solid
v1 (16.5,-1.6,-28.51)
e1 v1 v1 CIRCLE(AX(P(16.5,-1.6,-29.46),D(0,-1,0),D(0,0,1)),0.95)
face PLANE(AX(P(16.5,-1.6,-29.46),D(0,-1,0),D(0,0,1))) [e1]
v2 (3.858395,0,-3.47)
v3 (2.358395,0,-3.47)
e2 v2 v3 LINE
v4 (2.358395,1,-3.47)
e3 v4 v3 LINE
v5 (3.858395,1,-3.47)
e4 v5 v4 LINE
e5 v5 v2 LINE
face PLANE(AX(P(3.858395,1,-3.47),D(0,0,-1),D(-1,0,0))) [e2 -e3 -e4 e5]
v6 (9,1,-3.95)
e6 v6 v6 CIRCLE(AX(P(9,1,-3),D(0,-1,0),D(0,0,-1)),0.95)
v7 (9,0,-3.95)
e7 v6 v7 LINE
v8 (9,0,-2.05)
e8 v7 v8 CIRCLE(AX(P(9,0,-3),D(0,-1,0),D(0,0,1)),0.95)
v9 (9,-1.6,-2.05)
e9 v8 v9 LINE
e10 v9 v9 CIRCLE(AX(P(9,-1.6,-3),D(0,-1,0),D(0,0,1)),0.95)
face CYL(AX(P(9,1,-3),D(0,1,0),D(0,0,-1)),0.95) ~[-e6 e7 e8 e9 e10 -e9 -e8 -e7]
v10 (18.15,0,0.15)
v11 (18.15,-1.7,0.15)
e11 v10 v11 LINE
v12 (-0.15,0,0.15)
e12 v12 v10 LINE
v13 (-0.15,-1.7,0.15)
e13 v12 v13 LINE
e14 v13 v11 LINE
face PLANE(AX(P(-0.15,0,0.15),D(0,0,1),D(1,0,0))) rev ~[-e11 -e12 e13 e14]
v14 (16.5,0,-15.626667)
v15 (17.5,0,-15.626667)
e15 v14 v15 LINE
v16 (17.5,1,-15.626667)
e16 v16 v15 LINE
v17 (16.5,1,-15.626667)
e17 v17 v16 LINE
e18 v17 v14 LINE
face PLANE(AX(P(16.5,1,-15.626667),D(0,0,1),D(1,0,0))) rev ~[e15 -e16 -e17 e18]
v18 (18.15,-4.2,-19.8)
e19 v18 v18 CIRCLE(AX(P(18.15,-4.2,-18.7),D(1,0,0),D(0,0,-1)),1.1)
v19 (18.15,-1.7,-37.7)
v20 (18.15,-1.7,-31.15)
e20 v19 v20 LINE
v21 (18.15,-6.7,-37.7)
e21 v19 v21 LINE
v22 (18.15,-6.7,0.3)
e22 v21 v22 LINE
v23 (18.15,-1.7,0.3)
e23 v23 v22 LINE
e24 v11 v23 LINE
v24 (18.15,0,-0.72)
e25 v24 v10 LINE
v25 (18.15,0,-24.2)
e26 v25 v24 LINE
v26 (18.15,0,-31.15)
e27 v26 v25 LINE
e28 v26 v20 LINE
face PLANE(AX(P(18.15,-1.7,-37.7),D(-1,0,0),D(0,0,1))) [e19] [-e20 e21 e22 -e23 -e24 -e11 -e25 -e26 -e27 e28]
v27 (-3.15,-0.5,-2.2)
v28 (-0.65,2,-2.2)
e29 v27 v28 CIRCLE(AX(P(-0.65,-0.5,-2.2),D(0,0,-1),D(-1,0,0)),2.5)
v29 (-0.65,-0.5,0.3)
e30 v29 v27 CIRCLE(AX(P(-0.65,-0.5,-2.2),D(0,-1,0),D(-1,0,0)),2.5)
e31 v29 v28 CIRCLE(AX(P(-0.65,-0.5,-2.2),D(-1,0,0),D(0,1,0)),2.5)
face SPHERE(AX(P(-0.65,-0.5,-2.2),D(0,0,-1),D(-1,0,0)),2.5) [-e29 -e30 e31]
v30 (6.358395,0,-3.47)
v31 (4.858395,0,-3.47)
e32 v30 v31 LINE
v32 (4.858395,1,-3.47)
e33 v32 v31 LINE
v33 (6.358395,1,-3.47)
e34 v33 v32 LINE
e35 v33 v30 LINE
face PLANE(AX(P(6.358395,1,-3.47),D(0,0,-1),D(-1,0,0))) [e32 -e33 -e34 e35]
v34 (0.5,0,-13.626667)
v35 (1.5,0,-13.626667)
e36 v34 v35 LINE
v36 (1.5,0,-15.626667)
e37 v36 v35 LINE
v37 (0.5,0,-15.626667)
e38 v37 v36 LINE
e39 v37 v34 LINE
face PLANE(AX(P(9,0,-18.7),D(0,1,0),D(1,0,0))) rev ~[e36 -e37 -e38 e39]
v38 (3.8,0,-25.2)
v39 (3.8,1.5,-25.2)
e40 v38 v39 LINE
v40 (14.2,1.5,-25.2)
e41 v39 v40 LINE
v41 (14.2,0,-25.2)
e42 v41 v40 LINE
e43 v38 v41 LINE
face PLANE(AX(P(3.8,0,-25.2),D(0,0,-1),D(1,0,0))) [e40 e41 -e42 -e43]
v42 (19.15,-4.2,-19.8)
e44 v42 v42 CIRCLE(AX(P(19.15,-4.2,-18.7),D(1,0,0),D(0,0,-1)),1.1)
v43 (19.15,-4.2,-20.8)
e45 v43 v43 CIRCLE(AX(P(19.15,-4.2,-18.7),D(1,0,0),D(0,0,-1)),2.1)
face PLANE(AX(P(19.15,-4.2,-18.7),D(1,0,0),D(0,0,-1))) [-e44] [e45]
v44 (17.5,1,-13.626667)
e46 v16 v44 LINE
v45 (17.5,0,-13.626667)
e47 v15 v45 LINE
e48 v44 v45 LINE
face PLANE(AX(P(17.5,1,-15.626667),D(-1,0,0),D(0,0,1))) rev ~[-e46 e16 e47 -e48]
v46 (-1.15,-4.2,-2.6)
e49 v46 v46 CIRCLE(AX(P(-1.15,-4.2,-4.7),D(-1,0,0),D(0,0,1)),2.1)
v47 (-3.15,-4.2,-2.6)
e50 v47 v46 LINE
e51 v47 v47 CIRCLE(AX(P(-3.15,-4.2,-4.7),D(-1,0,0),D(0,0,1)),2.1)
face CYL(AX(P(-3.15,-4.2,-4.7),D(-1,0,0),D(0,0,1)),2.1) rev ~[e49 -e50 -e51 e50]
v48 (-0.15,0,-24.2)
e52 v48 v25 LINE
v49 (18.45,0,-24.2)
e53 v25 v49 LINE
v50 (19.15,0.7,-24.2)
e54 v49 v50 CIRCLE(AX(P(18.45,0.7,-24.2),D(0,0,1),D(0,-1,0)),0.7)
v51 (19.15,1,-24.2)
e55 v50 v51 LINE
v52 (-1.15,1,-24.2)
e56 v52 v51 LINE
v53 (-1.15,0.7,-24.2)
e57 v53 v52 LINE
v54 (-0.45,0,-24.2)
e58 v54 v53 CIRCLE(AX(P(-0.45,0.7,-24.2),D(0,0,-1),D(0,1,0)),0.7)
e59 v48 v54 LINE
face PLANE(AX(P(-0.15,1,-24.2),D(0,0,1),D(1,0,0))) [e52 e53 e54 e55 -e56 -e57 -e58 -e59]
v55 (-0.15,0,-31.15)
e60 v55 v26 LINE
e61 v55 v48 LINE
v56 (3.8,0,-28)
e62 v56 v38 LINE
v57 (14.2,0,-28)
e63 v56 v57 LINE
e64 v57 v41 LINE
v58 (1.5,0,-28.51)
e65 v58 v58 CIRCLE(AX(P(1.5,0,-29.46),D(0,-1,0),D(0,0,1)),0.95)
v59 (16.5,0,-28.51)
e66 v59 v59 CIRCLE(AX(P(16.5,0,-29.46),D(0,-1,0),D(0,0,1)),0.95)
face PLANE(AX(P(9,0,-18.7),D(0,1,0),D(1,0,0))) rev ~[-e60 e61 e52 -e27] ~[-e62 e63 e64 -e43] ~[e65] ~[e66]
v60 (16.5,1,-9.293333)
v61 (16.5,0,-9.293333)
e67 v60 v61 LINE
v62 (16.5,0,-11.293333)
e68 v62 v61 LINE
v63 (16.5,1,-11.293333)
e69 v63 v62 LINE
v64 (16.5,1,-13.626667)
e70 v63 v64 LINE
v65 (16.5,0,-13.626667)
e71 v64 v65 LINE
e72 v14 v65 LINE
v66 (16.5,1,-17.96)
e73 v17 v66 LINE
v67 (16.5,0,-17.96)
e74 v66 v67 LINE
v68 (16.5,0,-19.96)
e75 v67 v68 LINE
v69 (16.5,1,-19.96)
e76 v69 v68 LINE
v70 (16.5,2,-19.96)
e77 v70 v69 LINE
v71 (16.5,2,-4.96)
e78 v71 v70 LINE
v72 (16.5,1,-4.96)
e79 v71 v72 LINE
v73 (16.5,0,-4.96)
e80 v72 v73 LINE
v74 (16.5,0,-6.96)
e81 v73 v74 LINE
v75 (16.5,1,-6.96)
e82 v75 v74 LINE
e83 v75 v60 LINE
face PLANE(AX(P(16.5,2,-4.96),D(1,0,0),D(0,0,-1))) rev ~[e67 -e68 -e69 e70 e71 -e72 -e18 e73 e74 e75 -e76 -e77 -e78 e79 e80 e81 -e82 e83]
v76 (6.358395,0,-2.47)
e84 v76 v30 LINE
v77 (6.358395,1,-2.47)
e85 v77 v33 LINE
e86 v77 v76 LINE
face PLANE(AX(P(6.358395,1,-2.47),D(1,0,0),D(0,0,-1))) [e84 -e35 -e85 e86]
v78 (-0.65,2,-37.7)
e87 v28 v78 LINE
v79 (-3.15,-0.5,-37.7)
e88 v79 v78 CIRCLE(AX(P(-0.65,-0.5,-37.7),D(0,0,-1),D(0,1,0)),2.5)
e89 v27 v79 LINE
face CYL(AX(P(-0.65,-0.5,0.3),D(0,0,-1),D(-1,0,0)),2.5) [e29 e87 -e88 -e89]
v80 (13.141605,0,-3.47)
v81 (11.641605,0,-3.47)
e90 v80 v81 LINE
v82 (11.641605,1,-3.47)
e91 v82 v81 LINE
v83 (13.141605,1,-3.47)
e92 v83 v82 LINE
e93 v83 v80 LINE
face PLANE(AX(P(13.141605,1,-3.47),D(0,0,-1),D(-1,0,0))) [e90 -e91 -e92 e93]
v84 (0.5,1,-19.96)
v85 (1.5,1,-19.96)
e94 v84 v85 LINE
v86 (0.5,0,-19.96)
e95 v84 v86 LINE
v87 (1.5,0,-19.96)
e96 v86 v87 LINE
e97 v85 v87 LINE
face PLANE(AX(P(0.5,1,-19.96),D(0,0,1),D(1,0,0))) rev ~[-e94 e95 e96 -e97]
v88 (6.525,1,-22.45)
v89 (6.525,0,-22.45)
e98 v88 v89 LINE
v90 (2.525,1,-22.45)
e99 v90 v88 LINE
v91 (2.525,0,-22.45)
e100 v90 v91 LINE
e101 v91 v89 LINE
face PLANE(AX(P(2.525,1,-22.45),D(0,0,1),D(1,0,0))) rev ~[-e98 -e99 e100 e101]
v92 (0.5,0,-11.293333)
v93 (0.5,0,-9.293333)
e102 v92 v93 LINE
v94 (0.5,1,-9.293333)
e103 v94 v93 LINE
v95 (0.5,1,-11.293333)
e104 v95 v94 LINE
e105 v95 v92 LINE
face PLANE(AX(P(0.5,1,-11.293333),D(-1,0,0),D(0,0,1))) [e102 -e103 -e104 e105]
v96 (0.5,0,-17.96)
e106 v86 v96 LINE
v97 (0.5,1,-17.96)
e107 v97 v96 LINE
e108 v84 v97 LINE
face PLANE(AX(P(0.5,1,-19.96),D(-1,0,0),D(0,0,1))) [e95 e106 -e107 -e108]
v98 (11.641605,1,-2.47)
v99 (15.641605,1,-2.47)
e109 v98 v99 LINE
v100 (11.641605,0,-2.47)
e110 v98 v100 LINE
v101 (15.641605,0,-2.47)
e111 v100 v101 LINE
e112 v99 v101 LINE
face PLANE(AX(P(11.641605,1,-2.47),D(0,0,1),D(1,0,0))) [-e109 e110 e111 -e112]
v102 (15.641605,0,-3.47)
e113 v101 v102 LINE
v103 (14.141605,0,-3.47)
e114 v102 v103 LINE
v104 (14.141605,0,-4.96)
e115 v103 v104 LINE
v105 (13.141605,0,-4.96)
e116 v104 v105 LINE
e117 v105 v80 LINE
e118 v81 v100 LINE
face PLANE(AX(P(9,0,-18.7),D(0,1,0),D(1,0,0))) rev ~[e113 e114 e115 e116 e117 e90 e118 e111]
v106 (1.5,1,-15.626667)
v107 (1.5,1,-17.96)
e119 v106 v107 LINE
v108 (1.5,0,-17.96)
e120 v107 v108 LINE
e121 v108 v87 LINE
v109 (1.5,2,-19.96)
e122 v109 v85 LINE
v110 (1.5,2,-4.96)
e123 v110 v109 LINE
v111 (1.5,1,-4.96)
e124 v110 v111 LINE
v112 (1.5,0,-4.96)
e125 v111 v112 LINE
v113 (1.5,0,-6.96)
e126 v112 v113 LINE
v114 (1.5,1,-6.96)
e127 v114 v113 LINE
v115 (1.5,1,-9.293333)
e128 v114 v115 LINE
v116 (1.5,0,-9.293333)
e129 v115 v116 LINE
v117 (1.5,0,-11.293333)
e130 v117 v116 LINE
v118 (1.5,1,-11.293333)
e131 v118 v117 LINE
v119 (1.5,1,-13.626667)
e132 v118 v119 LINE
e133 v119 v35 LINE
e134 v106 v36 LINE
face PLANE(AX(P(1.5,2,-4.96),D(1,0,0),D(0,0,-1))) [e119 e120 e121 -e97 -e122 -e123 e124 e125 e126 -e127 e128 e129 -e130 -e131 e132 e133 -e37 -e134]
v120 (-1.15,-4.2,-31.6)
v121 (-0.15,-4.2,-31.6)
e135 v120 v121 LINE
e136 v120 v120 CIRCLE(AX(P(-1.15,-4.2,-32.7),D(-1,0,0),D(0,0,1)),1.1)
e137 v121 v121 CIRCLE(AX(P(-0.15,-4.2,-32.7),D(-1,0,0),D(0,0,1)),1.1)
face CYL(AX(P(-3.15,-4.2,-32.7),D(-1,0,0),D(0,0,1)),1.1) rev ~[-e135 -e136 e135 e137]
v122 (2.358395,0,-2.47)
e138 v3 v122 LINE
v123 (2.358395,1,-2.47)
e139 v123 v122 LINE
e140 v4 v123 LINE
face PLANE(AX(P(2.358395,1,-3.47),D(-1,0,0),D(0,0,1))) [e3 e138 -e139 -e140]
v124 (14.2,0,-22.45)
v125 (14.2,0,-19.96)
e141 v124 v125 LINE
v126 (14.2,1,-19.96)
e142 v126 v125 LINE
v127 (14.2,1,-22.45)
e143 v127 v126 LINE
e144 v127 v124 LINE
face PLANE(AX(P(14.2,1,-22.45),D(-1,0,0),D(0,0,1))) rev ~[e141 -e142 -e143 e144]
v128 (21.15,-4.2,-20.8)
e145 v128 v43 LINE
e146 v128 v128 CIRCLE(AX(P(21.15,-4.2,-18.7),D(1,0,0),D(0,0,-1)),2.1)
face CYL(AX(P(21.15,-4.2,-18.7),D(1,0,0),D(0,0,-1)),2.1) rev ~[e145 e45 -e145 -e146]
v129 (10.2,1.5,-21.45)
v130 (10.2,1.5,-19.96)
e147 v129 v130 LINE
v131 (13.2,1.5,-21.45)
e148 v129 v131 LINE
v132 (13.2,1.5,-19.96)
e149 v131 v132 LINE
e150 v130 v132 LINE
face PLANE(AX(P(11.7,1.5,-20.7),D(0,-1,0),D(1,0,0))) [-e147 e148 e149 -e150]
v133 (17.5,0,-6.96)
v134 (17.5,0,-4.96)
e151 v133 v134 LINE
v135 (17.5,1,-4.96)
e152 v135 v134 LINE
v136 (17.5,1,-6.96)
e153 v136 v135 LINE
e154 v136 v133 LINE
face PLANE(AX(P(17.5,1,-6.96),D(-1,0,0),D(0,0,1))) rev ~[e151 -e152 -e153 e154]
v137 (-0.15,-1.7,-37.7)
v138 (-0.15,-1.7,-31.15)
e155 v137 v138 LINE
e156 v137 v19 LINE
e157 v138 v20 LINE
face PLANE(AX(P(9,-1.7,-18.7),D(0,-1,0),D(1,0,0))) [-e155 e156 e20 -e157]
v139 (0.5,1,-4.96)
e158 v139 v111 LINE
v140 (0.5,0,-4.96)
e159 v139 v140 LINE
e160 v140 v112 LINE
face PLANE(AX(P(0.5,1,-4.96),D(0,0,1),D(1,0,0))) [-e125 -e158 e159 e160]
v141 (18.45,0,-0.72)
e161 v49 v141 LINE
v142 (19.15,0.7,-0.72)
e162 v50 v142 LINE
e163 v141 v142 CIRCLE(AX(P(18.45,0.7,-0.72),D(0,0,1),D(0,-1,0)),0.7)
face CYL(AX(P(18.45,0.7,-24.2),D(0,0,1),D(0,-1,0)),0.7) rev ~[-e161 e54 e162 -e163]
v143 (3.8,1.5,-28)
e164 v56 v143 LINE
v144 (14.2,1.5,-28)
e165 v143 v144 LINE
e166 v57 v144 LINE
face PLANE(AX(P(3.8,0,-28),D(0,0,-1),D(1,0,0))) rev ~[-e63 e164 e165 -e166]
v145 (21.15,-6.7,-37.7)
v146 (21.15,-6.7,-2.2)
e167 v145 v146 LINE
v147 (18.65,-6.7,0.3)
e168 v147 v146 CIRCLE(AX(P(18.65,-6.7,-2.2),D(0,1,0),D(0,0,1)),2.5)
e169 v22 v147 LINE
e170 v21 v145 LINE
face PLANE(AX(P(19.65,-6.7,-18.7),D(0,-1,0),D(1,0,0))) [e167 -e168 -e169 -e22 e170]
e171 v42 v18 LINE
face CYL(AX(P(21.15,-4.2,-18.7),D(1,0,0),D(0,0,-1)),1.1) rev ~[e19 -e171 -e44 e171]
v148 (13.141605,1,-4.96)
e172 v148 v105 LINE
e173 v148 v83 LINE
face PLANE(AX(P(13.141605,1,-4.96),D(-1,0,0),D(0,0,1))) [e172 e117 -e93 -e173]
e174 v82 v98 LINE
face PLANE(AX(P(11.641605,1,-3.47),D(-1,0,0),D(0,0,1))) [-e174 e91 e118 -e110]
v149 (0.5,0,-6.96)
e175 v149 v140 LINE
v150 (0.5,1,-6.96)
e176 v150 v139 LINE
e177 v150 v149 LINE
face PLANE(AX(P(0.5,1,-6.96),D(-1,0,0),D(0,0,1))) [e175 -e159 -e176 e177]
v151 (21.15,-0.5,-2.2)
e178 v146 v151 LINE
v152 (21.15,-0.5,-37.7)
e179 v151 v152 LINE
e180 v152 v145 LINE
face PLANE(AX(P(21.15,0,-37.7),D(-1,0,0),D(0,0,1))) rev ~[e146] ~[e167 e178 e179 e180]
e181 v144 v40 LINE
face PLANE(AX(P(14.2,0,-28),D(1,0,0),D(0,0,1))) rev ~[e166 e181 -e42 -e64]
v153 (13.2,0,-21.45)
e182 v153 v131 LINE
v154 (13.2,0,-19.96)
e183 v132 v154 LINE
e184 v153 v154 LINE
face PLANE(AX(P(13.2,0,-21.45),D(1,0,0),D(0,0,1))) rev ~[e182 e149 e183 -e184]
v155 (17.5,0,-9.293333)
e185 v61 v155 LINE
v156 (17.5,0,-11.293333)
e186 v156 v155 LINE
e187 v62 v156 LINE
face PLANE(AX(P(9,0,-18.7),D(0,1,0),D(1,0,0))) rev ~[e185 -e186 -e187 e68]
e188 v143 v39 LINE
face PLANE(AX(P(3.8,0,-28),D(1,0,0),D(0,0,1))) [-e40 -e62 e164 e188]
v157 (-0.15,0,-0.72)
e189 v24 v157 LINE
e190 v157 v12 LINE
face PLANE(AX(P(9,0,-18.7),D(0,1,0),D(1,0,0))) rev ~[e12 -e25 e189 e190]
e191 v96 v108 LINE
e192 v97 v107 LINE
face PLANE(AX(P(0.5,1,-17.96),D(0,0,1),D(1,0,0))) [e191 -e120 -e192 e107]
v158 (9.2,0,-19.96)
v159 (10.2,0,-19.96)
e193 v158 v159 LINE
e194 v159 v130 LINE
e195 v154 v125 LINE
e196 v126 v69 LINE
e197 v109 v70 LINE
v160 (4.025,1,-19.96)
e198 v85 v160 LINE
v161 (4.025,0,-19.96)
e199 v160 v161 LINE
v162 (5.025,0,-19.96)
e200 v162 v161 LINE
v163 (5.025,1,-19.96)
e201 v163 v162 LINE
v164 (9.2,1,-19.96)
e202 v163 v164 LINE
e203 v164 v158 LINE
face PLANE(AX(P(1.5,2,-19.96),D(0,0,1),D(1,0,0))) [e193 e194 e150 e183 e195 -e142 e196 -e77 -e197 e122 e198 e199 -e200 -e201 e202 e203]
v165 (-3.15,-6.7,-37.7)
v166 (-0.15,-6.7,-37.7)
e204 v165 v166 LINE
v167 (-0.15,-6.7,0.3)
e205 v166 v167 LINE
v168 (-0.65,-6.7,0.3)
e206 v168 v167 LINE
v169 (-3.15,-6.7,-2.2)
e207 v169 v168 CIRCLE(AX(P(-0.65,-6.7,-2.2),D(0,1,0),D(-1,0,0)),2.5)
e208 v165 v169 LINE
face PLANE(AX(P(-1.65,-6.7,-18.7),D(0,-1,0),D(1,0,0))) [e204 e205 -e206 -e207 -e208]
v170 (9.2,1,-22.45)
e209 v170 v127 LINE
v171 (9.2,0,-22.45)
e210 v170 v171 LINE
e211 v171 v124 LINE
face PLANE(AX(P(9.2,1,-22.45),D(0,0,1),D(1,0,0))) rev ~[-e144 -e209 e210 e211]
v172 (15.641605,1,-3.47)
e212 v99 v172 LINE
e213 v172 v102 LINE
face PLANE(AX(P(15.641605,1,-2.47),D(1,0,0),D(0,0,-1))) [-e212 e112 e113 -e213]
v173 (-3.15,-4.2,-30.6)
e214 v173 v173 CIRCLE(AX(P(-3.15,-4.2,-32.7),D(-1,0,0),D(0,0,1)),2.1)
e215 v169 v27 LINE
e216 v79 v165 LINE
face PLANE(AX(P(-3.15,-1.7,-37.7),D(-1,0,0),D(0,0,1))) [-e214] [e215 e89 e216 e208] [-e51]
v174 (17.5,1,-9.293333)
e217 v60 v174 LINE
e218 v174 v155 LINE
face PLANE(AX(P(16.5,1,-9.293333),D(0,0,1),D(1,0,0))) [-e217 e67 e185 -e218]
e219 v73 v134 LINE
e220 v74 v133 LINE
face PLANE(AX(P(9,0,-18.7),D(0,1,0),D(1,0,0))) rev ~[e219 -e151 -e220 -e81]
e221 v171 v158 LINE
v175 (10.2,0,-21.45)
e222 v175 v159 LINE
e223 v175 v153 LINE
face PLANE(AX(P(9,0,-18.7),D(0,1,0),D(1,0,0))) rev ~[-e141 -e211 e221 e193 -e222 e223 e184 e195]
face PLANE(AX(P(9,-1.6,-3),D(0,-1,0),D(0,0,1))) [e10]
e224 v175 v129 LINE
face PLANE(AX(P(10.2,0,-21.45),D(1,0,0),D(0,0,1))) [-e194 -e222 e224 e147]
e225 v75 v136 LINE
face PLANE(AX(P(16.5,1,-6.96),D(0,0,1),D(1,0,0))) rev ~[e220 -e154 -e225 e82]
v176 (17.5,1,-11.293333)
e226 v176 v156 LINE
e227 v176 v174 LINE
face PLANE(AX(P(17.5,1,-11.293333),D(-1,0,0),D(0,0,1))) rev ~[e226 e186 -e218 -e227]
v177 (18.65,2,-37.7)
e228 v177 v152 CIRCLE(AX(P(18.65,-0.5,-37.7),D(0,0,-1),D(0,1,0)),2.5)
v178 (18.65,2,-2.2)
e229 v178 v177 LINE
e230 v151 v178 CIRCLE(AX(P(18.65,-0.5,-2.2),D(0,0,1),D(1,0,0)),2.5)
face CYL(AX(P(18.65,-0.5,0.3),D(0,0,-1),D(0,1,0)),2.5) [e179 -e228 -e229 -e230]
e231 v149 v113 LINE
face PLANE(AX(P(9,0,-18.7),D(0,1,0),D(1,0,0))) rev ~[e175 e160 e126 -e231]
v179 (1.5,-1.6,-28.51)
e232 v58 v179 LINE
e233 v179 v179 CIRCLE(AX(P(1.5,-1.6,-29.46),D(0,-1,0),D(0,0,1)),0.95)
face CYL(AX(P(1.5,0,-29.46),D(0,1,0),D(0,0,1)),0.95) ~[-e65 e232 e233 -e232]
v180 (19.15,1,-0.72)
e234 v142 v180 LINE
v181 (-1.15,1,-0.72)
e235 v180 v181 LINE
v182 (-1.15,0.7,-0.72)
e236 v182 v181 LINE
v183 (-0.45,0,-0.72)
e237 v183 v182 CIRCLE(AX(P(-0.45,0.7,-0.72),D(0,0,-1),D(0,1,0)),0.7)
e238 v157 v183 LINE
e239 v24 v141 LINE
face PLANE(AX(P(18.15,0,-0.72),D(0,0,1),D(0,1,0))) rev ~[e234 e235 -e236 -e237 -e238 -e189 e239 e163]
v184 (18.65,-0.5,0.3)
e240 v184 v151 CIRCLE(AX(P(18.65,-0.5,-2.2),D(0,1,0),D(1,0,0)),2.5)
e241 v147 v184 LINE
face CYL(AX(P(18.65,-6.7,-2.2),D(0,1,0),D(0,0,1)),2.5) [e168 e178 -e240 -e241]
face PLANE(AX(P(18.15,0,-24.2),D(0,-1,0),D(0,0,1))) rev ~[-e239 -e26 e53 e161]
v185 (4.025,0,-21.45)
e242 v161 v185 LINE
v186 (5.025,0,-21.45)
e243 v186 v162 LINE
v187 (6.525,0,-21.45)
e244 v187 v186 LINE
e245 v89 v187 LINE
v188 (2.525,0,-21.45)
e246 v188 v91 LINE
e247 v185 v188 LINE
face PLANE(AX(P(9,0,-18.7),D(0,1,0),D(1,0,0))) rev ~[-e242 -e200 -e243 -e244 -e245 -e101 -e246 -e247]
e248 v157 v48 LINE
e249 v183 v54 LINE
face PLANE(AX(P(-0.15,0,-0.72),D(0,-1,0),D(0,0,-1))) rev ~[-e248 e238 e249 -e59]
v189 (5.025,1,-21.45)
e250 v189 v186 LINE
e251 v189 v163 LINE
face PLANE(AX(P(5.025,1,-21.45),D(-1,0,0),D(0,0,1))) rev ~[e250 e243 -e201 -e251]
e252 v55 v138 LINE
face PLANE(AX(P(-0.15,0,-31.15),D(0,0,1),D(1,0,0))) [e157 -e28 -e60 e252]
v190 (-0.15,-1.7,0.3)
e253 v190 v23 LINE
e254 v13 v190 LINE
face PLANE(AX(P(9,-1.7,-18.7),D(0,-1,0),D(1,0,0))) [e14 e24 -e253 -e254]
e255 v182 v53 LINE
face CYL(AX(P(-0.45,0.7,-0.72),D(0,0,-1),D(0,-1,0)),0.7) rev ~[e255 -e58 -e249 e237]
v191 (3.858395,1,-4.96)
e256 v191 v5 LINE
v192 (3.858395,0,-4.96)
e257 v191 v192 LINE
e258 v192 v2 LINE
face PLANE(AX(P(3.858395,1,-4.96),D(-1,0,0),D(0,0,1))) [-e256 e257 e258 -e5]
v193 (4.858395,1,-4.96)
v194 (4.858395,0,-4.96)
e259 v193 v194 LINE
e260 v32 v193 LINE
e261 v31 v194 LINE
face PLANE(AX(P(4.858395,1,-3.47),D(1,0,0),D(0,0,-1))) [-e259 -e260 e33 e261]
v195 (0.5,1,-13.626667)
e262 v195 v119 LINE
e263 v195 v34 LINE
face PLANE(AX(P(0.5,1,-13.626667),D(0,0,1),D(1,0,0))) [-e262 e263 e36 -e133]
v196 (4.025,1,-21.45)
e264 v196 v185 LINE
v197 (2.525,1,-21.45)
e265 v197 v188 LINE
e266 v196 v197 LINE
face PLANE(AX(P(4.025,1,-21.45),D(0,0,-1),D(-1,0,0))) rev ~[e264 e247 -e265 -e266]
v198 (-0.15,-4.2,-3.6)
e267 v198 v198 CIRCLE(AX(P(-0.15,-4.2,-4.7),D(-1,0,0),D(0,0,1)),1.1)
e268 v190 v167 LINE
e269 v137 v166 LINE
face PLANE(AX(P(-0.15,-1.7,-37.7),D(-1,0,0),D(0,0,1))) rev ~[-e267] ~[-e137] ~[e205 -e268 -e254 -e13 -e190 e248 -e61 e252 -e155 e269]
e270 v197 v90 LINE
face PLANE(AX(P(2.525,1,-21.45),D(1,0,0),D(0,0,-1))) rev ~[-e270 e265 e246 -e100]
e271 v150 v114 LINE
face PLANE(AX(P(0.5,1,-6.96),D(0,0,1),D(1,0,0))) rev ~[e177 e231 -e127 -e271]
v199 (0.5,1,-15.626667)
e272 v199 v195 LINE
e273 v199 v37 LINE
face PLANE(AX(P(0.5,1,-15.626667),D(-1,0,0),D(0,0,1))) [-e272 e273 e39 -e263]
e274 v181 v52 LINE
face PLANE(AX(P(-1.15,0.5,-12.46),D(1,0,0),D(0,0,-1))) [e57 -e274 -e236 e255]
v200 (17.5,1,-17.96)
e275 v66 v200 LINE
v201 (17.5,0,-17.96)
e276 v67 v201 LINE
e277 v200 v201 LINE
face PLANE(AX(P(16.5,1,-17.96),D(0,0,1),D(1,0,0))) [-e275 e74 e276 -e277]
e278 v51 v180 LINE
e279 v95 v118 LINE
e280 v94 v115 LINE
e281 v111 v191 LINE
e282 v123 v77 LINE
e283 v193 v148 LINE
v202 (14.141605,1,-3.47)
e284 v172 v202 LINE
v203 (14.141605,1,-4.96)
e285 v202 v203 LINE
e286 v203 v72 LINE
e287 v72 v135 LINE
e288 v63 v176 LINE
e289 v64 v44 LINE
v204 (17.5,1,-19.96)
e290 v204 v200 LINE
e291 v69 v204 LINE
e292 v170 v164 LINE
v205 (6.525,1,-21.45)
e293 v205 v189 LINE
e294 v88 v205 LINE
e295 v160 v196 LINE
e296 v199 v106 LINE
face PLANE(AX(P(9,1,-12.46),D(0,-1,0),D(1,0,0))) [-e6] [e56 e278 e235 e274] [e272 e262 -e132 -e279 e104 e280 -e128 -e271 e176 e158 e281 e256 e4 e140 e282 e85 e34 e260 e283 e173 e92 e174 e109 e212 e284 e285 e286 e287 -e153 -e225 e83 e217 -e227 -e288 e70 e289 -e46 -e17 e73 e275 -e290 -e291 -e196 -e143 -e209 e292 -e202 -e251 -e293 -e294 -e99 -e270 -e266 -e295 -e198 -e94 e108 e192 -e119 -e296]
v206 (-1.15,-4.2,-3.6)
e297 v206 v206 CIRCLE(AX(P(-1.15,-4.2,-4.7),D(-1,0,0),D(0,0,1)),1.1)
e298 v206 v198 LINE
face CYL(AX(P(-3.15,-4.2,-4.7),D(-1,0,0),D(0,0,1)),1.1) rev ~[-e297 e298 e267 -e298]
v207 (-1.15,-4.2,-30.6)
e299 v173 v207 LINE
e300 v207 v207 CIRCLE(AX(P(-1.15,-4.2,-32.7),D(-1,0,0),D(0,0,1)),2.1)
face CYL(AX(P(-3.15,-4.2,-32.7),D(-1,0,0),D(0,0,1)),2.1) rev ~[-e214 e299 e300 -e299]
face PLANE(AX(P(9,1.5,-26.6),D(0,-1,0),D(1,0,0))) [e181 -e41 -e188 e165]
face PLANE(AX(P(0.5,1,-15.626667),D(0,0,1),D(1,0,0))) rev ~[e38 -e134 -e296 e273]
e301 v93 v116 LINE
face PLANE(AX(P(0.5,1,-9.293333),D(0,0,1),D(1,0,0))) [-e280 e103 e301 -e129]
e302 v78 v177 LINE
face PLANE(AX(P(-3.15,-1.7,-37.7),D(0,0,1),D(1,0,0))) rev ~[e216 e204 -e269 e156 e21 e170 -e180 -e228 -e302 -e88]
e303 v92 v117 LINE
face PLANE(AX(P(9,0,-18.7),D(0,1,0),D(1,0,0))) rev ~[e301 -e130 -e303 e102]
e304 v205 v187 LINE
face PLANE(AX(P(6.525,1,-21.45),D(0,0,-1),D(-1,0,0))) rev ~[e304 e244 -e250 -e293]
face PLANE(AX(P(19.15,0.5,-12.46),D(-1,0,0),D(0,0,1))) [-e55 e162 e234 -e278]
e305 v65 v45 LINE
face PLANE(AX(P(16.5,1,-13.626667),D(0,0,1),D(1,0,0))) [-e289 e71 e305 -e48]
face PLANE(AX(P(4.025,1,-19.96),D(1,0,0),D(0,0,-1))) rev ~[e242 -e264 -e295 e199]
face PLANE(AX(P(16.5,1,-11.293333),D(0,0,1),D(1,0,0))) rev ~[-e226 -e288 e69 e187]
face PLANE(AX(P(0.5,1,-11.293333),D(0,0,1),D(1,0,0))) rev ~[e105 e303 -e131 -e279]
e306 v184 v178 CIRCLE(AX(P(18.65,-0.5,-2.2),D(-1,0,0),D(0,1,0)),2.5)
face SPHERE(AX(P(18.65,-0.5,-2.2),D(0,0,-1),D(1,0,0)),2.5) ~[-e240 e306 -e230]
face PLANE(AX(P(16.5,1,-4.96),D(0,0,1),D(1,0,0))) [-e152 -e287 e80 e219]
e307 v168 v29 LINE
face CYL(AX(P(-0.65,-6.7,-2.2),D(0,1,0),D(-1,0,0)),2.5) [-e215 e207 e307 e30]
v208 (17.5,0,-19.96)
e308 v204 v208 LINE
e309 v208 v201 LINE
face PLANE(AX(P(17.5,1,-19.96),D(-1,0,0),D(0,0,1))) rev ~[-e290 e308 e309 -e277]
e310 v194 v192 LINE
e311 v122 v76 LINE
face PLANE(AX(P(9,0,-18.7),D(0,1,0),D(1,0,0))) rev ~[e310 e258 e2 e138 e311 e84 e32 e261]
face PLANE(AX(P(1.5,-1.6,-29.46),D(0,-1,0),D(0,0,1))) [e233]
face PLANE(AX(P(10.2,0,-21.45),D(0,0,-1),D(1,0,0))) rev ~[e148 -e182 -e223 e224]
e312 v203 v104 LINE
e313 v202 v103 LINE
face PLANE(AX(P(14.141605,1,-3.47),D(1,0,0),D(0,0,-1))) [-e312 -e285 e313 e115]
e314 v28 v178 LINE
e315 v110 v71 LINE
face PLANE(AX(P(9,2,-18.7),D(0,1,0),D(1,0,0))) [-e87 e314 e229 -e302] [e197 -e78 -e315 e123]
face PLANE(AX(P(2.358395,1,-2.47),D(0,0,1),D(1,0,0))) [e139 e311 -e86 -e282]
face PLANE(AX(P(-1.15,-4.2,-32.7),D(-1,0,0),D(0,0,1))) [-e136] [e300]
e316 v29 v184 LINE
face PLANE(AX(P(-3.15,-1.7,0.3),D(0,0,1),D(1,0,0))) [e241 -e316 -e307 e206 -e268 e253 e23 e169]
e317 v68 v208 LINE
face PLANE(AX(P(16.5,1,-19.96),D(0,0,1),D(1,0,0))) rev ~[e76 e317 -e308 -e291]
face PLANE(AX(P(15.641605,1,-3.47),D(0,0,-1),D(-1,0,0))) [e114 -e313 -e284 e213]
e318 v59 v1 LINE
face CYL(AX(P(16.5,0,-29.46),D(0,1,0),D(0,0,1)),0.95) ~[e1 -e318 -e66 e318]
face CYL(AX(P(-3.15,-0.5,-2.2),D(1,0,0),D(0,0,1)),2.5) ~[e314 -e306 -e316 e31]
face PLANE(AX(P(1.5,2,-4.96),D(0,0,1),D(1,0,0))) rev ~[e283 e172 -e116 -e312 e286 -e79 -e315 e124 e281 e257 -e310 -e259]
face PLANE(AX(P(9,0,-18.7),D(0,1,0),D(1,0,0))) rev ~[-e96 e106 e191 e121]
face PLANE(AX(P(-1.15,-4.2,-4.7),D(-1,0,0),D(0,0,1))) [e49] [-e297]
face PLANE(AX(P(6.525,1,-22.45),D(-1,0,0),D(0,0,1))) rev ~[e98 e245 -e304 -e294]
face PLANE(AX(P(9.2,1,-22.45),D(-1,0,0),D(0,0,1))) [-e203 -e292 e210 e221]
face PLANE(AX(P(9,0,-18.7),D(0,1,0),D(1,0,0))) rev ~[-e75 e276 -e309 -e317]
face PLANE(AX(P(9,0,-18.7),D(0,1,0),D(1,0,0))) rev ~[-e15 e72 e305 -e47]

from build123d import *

# Parameters (mm, degrees)
SKETCH1_W                  = 24.3
SKETCH1_H                  = 38
BASE_DEPTH                 = 2
SKETCH2_W                  = 24.3
SKETCH2_H                  = 38
SKETCH2_W_2                = 18.3
SKETCH2_H_2                = 31.3
PCB_EDGE_WALLS_DEPTH       = 1.7
SKETCH3_R                  = 0.95
PCB_MOUNT_DOWELS_DEPTH     = 1.6
SKETCH4_W                  = 15
SKETCH4_H                  = 15
SILICONE_PAD_HOLE_DEPTH    = 44.385510254
SKETCH6_W                  = 10.4
SKETCH6_H                  = 2.8
WIRE_SOLDERINGS_HOLE_DEPTH = 1.5
SKETCH7_W                  = 3
SKETCH7_H                  = 1.5
CUT_EXTRUDE4_DEPTH         = 1.5
SILICONE_CHANNELS_START    = -1
SKETCH5_R                  = 0.95
SKETCH5_W                  = 5
SKETCH5_H                  = 2.49
SKETCH5_W_2                = 1
SKETCH5_H_2                = 2
SILICONE_CHANNELS_DEPTH    = 1
SKETCH8_W                  = 23.48
SKETCH8_H                  = 1
CUT_EXTRUDE5_DEPTH         = 1
SKETCH9_W                  = 23.48
SKETCH9_H                  = 1
CUT_EXTRUDE6_DEPTH         = 1
FILLET1_R                  = 0.7
SKETCH17_W                 = 3
SKETCH17_H                 = 38
BOSS_EXTRUDE4_DEPTH        = 5
SKETCH19_R                 = 1.1
CUT_EXTRUDE9_DEPTH         = 5
SKETCH20_R                 = 2.1
CUT_EXTRUDE10_DEPTH        = 2
SKETCH21_R                 = 1.1
CUT_EXTRUDE11_DEPTH        = 5
SKETCH22_R                 = 2.1
CUT_EXTRUDE12_DEPTH        = 2
FILLET3_R                  = 2.5


with BuildPart() as part:
    # Sketch1 → base (new body)
    with BuildSketch(Plane(origin=(0, 0, 0), x_dir=(1, 0, 0), z_dir=(0, 1, 0))):
        with Locations((9, 18.7)):
            Rectangle(SKETCH1_W, SKETCH1_H)
    extrude(amount=BASE_DEPTH)

    # Sketch2 → pcb_edge_walls (add)
    with BuildSketch(Plane.XZ):
        with Locations((9, -18.7)):
            Rectangle(SKETCH2_W, SKETCH2_H)
        with Locations((9, -15.5)):
            Rectangle(SKETCH2_W_2, SKETCH2_H_2, mode=Mode.SUBTRACT)
    extrude(amount=PCB_EDGE_WALLS_DEPTH)

    # Sketch3 → pcb_mount_dowels (add)
    with BuildSketch(Plane.XZ):
        with Locations(Location((1.5, -29.46, 0), (0, 0, 90))):
            Circle(SKETCH3_R)
        with Locations(Location((16.5, -29.46, 0), (0, 0, 90))):
            Circle(SKETCH3_R)
        with Locations(Location((9, -3, 0), (0, 0, 90))):
            Circle(SKETCH3_R)
    extrude(amount=PCB_MOUNT_DOWELS_DEPTH)

    # Sketch4 → silicone_pad_hole (cut, through all)
    with BuildSketch(Plane(origin=(0, 2, 0), x_dir=(1, 0, 0), z_dir=(0, 1, 0))):
        with Locations((9, 12.46)):
            Rectangle(SKETCH4_W, SKETCH4_H)
    extrude(amount=-SILICONE_PAD_HOLE_DEPTH, mode=Mode.SUBTRACT)

    # Sketch6 → wire_solderings_hole (cut)
    with BuildSketch(Plane.XZ):
        with Locations((9, -26.6)):
            Rectangle(SKETCH6_W, SKETCH6_H)
    extrude(amount=-WIRE_SOLDERINGS_HOLE_DEPTH, mode=Mode.SUBTRACT)

    # Sketch7 → Cut-Extrude4 (cut)
    with BuildSketch(Plane.XZ):
        with Locations((11.7, -20.7)):
            Rectangle(SKETCH7_W, SKETCH7_H)
    extrude(amount=-CUT_EXTRUDE4_DEPTH, mode=Mode.SUBTRACT)

    # Sketch5 → silicone_channels (cut)
    with BuildSketch(Plane.XZ.offset(SILICONE_CHANNELS_START)):
        Polygon((-0.15, -19.96), (-0.15, -24.2), (18.15, -24.2), (18.15, -0.72), (-0.15, -0.72), align=None)
        with Locations(Location((9, -3, 0), (0, 0, 270))):
            Circle(SKETCH5_R, mode=Mode.SUBTRACT)
        with Locations((11.7, -21.205)):
            Rectangle(SKETCH5_W, SKETCH5_H, mode=Mode.SUBTRACT)
        Polygon((4.025, -19.96), (4.025, -21.45), (2.525, -21.45), (2.525, -22.45), (6.525, -22.45), (6.525, -21.45), (5.025, -21.45), (5.025, -19.96), align=None, mode=Mode.SUBTRACT)
        Polygon((3.858394778, -4.96), (3.858394778, -3.47), (2.358394778, -3.47), (2.358394778, -2.47), (6.358394778, -2.47), (6.358394778, -3.47), (4.858394778, -3.47), (4.858394778, -4.96), align=None, mode=Mode.SUBTRACT)
        Polygon((13.141605222, -4.96), (13.141605222, -3.47), (11.641605222, -3.47), (11.641605222, -2.47), (15.641605222, -2.47), (15.641605222, -3.47), (14.141605222, -3.47), (14.141605222, -4.96), align=None, mode=Mode.SUBTRACT)
        with Locations((1, -5.96)):
            Rectangle(SKETCH5_W_2, SKETCH5_H_2, mode=Mode.SUBTRACT)
        with Locations((1, -10.293333333)):
            Rectangle(SKETCH5_W_2, SKETCH5_H_2, mode=Mode.SUBTRACT)
        with Locations((1, -14.626666667)):
            Rectangle(SKETCH5_W_2, SKETCH5_H_2, mode=Mode.SUBTRACT)
        with Locations((1, -18.96)):
            Rectangle(SKETCH5_W_2, SKETCH5_H_2, mode=Mode.SUBTRACT)
        with Locations((17, -18.96)):
            Rectangle(SKETCH5_W_2, SKETCH5_H_2, mode=Mode.SUBTRACT)
        with Locations((17, -14.626666667)):
            Rectangle(SKETCH5_W_2, SKETCH5_H_2, mode=Mode.SUBTRACT)
        with Locations((17, -10.293333333)):
            Rectangle(SKETCH5_W_2, SKETCH5_H_2, mode=Mode.SUBTRACT)
        with Locations((17, -5.96)):
            Rectangle(SKETCH5_W_2, SKETCH5_H_2, mode=Mode.SUBTRACT)
    extrude(amount=SILICONE_CHANNELS_DEPTH, mode=Mode.SUBTRACT)

    # Sketch8 → Cut-Extrude5 (cut)
    with BuildSketch(Plane(origin=(-0.15, 0, 0), x_dir=(0, 0, -1), z_dir=(1, 0, 0))):
        with Locations((12.46, 0.5)):
            Rectangle(SKETCH8_W, SKETCH8_H)
    extrude(amount=-CUT_EXTRUDE5_DEPTH, mode=Mode.SUBTRACT)

    # Sketch9 → Cut-Extrude6 (cut)
    with BuildSketch(Plane.ZY.offset(-18.15)):
        with Locations((-12.46, 0.5)):
            Rectangle(SKETCH9_W, SKETCH9_H)
    extrude(amount=-CUT_EXTRUDE6_DEPTH, mode=Mode.SUBTRACT)

    # Fillet1
    fillet1_edges = [part.edges().sort_by_distance(p)[0] for p in [
        (-1.15, 0, -12.46),
        (19.15, 0, -12.46),
    ]]
    fillet(fillet1_edges, radius=FILLET1_R)

    # Sketch17 → Boss-Extrude4 (add)
    with BuildSketch(Plane.XZ.offset(1.7)):
        with Locations((-1.65, -18.7)):
            Rectangle(SKETCH17_W, SKETCH17_H)
        with Locations((19.65, -18.7)):
            Rectangle(SKETCH17_W, SKETCH17_H)
    extrude(amount=BOSS_EXTRUDE4_DEPTH)

    # Sketch19 → Cut-Extrude9 (cut)
    with BuildSketch(Plane.ZY.offset(3.15)):
        with Locations((-4.7, -4.2)):
            Circle(SKETCH19_R)
        with Locations((-32.7, -4.2)):
            Circle(SKETCH19_R)
    extrude(amount=-CUT_EXTRUDE9_DEPTH, mode=Mode.SUBTRACT)

    # Sketch20 → Cut-Extrude10 (cut)
    with BuildSketch(Plane.ZY.offset(3.15)):
        with Locations((-4.7, -4.2)):
            Circle(SKETCH20_R)
        with Locations((-32.7, -4.2)):
            Circle(SKETCH20_R)
    extrude(amount=-CUT_EXTRUDE10_DEPTH, mode=Mode.SUBTRACT)

    # Sketch21 → Cut-Extrude11 (cut)
    with BuildSketch(Plane(origin=(21.15, 0, 0), x_dir=(0, 0, -1), z_dir=(1, 0, 0))):
        with Locations((18.7, -4.2)):
            Circle(SKETCH21_R)
    extrude(amount=-CUT_EXTRUDE11_DEPTH, mode=Mode.SUBTRACT)

    # Sketch22 → Cut-Extrude12 (cut)
    with BuildSketch(Plane(origin=(21.15, 0, 0), x_dir=(0, 0, -1), z_dir=(1, 0, 0))):
        with Locations((18.7, -4.2)):
            Circle(SKETCH22_R)
    extrude(amount=-CUT_EXTRUDE12_DEPTH, mode=Mode.SUBTRACT)

    # Fillet3
    fillet3_edges = [part.edges().sort_by_distance(p)[0] for p in [
        (21.15, 2, -18.7),
        (-3.15, 2, -18.7),
        (21.15, -4.2, 0.3),
        (-3.15, -4.2, 0.3),
        (9, 2, 0.3),
    ]]
    fillet(fillet3_edges, radius=FILLET3_R)


solid = part.part
